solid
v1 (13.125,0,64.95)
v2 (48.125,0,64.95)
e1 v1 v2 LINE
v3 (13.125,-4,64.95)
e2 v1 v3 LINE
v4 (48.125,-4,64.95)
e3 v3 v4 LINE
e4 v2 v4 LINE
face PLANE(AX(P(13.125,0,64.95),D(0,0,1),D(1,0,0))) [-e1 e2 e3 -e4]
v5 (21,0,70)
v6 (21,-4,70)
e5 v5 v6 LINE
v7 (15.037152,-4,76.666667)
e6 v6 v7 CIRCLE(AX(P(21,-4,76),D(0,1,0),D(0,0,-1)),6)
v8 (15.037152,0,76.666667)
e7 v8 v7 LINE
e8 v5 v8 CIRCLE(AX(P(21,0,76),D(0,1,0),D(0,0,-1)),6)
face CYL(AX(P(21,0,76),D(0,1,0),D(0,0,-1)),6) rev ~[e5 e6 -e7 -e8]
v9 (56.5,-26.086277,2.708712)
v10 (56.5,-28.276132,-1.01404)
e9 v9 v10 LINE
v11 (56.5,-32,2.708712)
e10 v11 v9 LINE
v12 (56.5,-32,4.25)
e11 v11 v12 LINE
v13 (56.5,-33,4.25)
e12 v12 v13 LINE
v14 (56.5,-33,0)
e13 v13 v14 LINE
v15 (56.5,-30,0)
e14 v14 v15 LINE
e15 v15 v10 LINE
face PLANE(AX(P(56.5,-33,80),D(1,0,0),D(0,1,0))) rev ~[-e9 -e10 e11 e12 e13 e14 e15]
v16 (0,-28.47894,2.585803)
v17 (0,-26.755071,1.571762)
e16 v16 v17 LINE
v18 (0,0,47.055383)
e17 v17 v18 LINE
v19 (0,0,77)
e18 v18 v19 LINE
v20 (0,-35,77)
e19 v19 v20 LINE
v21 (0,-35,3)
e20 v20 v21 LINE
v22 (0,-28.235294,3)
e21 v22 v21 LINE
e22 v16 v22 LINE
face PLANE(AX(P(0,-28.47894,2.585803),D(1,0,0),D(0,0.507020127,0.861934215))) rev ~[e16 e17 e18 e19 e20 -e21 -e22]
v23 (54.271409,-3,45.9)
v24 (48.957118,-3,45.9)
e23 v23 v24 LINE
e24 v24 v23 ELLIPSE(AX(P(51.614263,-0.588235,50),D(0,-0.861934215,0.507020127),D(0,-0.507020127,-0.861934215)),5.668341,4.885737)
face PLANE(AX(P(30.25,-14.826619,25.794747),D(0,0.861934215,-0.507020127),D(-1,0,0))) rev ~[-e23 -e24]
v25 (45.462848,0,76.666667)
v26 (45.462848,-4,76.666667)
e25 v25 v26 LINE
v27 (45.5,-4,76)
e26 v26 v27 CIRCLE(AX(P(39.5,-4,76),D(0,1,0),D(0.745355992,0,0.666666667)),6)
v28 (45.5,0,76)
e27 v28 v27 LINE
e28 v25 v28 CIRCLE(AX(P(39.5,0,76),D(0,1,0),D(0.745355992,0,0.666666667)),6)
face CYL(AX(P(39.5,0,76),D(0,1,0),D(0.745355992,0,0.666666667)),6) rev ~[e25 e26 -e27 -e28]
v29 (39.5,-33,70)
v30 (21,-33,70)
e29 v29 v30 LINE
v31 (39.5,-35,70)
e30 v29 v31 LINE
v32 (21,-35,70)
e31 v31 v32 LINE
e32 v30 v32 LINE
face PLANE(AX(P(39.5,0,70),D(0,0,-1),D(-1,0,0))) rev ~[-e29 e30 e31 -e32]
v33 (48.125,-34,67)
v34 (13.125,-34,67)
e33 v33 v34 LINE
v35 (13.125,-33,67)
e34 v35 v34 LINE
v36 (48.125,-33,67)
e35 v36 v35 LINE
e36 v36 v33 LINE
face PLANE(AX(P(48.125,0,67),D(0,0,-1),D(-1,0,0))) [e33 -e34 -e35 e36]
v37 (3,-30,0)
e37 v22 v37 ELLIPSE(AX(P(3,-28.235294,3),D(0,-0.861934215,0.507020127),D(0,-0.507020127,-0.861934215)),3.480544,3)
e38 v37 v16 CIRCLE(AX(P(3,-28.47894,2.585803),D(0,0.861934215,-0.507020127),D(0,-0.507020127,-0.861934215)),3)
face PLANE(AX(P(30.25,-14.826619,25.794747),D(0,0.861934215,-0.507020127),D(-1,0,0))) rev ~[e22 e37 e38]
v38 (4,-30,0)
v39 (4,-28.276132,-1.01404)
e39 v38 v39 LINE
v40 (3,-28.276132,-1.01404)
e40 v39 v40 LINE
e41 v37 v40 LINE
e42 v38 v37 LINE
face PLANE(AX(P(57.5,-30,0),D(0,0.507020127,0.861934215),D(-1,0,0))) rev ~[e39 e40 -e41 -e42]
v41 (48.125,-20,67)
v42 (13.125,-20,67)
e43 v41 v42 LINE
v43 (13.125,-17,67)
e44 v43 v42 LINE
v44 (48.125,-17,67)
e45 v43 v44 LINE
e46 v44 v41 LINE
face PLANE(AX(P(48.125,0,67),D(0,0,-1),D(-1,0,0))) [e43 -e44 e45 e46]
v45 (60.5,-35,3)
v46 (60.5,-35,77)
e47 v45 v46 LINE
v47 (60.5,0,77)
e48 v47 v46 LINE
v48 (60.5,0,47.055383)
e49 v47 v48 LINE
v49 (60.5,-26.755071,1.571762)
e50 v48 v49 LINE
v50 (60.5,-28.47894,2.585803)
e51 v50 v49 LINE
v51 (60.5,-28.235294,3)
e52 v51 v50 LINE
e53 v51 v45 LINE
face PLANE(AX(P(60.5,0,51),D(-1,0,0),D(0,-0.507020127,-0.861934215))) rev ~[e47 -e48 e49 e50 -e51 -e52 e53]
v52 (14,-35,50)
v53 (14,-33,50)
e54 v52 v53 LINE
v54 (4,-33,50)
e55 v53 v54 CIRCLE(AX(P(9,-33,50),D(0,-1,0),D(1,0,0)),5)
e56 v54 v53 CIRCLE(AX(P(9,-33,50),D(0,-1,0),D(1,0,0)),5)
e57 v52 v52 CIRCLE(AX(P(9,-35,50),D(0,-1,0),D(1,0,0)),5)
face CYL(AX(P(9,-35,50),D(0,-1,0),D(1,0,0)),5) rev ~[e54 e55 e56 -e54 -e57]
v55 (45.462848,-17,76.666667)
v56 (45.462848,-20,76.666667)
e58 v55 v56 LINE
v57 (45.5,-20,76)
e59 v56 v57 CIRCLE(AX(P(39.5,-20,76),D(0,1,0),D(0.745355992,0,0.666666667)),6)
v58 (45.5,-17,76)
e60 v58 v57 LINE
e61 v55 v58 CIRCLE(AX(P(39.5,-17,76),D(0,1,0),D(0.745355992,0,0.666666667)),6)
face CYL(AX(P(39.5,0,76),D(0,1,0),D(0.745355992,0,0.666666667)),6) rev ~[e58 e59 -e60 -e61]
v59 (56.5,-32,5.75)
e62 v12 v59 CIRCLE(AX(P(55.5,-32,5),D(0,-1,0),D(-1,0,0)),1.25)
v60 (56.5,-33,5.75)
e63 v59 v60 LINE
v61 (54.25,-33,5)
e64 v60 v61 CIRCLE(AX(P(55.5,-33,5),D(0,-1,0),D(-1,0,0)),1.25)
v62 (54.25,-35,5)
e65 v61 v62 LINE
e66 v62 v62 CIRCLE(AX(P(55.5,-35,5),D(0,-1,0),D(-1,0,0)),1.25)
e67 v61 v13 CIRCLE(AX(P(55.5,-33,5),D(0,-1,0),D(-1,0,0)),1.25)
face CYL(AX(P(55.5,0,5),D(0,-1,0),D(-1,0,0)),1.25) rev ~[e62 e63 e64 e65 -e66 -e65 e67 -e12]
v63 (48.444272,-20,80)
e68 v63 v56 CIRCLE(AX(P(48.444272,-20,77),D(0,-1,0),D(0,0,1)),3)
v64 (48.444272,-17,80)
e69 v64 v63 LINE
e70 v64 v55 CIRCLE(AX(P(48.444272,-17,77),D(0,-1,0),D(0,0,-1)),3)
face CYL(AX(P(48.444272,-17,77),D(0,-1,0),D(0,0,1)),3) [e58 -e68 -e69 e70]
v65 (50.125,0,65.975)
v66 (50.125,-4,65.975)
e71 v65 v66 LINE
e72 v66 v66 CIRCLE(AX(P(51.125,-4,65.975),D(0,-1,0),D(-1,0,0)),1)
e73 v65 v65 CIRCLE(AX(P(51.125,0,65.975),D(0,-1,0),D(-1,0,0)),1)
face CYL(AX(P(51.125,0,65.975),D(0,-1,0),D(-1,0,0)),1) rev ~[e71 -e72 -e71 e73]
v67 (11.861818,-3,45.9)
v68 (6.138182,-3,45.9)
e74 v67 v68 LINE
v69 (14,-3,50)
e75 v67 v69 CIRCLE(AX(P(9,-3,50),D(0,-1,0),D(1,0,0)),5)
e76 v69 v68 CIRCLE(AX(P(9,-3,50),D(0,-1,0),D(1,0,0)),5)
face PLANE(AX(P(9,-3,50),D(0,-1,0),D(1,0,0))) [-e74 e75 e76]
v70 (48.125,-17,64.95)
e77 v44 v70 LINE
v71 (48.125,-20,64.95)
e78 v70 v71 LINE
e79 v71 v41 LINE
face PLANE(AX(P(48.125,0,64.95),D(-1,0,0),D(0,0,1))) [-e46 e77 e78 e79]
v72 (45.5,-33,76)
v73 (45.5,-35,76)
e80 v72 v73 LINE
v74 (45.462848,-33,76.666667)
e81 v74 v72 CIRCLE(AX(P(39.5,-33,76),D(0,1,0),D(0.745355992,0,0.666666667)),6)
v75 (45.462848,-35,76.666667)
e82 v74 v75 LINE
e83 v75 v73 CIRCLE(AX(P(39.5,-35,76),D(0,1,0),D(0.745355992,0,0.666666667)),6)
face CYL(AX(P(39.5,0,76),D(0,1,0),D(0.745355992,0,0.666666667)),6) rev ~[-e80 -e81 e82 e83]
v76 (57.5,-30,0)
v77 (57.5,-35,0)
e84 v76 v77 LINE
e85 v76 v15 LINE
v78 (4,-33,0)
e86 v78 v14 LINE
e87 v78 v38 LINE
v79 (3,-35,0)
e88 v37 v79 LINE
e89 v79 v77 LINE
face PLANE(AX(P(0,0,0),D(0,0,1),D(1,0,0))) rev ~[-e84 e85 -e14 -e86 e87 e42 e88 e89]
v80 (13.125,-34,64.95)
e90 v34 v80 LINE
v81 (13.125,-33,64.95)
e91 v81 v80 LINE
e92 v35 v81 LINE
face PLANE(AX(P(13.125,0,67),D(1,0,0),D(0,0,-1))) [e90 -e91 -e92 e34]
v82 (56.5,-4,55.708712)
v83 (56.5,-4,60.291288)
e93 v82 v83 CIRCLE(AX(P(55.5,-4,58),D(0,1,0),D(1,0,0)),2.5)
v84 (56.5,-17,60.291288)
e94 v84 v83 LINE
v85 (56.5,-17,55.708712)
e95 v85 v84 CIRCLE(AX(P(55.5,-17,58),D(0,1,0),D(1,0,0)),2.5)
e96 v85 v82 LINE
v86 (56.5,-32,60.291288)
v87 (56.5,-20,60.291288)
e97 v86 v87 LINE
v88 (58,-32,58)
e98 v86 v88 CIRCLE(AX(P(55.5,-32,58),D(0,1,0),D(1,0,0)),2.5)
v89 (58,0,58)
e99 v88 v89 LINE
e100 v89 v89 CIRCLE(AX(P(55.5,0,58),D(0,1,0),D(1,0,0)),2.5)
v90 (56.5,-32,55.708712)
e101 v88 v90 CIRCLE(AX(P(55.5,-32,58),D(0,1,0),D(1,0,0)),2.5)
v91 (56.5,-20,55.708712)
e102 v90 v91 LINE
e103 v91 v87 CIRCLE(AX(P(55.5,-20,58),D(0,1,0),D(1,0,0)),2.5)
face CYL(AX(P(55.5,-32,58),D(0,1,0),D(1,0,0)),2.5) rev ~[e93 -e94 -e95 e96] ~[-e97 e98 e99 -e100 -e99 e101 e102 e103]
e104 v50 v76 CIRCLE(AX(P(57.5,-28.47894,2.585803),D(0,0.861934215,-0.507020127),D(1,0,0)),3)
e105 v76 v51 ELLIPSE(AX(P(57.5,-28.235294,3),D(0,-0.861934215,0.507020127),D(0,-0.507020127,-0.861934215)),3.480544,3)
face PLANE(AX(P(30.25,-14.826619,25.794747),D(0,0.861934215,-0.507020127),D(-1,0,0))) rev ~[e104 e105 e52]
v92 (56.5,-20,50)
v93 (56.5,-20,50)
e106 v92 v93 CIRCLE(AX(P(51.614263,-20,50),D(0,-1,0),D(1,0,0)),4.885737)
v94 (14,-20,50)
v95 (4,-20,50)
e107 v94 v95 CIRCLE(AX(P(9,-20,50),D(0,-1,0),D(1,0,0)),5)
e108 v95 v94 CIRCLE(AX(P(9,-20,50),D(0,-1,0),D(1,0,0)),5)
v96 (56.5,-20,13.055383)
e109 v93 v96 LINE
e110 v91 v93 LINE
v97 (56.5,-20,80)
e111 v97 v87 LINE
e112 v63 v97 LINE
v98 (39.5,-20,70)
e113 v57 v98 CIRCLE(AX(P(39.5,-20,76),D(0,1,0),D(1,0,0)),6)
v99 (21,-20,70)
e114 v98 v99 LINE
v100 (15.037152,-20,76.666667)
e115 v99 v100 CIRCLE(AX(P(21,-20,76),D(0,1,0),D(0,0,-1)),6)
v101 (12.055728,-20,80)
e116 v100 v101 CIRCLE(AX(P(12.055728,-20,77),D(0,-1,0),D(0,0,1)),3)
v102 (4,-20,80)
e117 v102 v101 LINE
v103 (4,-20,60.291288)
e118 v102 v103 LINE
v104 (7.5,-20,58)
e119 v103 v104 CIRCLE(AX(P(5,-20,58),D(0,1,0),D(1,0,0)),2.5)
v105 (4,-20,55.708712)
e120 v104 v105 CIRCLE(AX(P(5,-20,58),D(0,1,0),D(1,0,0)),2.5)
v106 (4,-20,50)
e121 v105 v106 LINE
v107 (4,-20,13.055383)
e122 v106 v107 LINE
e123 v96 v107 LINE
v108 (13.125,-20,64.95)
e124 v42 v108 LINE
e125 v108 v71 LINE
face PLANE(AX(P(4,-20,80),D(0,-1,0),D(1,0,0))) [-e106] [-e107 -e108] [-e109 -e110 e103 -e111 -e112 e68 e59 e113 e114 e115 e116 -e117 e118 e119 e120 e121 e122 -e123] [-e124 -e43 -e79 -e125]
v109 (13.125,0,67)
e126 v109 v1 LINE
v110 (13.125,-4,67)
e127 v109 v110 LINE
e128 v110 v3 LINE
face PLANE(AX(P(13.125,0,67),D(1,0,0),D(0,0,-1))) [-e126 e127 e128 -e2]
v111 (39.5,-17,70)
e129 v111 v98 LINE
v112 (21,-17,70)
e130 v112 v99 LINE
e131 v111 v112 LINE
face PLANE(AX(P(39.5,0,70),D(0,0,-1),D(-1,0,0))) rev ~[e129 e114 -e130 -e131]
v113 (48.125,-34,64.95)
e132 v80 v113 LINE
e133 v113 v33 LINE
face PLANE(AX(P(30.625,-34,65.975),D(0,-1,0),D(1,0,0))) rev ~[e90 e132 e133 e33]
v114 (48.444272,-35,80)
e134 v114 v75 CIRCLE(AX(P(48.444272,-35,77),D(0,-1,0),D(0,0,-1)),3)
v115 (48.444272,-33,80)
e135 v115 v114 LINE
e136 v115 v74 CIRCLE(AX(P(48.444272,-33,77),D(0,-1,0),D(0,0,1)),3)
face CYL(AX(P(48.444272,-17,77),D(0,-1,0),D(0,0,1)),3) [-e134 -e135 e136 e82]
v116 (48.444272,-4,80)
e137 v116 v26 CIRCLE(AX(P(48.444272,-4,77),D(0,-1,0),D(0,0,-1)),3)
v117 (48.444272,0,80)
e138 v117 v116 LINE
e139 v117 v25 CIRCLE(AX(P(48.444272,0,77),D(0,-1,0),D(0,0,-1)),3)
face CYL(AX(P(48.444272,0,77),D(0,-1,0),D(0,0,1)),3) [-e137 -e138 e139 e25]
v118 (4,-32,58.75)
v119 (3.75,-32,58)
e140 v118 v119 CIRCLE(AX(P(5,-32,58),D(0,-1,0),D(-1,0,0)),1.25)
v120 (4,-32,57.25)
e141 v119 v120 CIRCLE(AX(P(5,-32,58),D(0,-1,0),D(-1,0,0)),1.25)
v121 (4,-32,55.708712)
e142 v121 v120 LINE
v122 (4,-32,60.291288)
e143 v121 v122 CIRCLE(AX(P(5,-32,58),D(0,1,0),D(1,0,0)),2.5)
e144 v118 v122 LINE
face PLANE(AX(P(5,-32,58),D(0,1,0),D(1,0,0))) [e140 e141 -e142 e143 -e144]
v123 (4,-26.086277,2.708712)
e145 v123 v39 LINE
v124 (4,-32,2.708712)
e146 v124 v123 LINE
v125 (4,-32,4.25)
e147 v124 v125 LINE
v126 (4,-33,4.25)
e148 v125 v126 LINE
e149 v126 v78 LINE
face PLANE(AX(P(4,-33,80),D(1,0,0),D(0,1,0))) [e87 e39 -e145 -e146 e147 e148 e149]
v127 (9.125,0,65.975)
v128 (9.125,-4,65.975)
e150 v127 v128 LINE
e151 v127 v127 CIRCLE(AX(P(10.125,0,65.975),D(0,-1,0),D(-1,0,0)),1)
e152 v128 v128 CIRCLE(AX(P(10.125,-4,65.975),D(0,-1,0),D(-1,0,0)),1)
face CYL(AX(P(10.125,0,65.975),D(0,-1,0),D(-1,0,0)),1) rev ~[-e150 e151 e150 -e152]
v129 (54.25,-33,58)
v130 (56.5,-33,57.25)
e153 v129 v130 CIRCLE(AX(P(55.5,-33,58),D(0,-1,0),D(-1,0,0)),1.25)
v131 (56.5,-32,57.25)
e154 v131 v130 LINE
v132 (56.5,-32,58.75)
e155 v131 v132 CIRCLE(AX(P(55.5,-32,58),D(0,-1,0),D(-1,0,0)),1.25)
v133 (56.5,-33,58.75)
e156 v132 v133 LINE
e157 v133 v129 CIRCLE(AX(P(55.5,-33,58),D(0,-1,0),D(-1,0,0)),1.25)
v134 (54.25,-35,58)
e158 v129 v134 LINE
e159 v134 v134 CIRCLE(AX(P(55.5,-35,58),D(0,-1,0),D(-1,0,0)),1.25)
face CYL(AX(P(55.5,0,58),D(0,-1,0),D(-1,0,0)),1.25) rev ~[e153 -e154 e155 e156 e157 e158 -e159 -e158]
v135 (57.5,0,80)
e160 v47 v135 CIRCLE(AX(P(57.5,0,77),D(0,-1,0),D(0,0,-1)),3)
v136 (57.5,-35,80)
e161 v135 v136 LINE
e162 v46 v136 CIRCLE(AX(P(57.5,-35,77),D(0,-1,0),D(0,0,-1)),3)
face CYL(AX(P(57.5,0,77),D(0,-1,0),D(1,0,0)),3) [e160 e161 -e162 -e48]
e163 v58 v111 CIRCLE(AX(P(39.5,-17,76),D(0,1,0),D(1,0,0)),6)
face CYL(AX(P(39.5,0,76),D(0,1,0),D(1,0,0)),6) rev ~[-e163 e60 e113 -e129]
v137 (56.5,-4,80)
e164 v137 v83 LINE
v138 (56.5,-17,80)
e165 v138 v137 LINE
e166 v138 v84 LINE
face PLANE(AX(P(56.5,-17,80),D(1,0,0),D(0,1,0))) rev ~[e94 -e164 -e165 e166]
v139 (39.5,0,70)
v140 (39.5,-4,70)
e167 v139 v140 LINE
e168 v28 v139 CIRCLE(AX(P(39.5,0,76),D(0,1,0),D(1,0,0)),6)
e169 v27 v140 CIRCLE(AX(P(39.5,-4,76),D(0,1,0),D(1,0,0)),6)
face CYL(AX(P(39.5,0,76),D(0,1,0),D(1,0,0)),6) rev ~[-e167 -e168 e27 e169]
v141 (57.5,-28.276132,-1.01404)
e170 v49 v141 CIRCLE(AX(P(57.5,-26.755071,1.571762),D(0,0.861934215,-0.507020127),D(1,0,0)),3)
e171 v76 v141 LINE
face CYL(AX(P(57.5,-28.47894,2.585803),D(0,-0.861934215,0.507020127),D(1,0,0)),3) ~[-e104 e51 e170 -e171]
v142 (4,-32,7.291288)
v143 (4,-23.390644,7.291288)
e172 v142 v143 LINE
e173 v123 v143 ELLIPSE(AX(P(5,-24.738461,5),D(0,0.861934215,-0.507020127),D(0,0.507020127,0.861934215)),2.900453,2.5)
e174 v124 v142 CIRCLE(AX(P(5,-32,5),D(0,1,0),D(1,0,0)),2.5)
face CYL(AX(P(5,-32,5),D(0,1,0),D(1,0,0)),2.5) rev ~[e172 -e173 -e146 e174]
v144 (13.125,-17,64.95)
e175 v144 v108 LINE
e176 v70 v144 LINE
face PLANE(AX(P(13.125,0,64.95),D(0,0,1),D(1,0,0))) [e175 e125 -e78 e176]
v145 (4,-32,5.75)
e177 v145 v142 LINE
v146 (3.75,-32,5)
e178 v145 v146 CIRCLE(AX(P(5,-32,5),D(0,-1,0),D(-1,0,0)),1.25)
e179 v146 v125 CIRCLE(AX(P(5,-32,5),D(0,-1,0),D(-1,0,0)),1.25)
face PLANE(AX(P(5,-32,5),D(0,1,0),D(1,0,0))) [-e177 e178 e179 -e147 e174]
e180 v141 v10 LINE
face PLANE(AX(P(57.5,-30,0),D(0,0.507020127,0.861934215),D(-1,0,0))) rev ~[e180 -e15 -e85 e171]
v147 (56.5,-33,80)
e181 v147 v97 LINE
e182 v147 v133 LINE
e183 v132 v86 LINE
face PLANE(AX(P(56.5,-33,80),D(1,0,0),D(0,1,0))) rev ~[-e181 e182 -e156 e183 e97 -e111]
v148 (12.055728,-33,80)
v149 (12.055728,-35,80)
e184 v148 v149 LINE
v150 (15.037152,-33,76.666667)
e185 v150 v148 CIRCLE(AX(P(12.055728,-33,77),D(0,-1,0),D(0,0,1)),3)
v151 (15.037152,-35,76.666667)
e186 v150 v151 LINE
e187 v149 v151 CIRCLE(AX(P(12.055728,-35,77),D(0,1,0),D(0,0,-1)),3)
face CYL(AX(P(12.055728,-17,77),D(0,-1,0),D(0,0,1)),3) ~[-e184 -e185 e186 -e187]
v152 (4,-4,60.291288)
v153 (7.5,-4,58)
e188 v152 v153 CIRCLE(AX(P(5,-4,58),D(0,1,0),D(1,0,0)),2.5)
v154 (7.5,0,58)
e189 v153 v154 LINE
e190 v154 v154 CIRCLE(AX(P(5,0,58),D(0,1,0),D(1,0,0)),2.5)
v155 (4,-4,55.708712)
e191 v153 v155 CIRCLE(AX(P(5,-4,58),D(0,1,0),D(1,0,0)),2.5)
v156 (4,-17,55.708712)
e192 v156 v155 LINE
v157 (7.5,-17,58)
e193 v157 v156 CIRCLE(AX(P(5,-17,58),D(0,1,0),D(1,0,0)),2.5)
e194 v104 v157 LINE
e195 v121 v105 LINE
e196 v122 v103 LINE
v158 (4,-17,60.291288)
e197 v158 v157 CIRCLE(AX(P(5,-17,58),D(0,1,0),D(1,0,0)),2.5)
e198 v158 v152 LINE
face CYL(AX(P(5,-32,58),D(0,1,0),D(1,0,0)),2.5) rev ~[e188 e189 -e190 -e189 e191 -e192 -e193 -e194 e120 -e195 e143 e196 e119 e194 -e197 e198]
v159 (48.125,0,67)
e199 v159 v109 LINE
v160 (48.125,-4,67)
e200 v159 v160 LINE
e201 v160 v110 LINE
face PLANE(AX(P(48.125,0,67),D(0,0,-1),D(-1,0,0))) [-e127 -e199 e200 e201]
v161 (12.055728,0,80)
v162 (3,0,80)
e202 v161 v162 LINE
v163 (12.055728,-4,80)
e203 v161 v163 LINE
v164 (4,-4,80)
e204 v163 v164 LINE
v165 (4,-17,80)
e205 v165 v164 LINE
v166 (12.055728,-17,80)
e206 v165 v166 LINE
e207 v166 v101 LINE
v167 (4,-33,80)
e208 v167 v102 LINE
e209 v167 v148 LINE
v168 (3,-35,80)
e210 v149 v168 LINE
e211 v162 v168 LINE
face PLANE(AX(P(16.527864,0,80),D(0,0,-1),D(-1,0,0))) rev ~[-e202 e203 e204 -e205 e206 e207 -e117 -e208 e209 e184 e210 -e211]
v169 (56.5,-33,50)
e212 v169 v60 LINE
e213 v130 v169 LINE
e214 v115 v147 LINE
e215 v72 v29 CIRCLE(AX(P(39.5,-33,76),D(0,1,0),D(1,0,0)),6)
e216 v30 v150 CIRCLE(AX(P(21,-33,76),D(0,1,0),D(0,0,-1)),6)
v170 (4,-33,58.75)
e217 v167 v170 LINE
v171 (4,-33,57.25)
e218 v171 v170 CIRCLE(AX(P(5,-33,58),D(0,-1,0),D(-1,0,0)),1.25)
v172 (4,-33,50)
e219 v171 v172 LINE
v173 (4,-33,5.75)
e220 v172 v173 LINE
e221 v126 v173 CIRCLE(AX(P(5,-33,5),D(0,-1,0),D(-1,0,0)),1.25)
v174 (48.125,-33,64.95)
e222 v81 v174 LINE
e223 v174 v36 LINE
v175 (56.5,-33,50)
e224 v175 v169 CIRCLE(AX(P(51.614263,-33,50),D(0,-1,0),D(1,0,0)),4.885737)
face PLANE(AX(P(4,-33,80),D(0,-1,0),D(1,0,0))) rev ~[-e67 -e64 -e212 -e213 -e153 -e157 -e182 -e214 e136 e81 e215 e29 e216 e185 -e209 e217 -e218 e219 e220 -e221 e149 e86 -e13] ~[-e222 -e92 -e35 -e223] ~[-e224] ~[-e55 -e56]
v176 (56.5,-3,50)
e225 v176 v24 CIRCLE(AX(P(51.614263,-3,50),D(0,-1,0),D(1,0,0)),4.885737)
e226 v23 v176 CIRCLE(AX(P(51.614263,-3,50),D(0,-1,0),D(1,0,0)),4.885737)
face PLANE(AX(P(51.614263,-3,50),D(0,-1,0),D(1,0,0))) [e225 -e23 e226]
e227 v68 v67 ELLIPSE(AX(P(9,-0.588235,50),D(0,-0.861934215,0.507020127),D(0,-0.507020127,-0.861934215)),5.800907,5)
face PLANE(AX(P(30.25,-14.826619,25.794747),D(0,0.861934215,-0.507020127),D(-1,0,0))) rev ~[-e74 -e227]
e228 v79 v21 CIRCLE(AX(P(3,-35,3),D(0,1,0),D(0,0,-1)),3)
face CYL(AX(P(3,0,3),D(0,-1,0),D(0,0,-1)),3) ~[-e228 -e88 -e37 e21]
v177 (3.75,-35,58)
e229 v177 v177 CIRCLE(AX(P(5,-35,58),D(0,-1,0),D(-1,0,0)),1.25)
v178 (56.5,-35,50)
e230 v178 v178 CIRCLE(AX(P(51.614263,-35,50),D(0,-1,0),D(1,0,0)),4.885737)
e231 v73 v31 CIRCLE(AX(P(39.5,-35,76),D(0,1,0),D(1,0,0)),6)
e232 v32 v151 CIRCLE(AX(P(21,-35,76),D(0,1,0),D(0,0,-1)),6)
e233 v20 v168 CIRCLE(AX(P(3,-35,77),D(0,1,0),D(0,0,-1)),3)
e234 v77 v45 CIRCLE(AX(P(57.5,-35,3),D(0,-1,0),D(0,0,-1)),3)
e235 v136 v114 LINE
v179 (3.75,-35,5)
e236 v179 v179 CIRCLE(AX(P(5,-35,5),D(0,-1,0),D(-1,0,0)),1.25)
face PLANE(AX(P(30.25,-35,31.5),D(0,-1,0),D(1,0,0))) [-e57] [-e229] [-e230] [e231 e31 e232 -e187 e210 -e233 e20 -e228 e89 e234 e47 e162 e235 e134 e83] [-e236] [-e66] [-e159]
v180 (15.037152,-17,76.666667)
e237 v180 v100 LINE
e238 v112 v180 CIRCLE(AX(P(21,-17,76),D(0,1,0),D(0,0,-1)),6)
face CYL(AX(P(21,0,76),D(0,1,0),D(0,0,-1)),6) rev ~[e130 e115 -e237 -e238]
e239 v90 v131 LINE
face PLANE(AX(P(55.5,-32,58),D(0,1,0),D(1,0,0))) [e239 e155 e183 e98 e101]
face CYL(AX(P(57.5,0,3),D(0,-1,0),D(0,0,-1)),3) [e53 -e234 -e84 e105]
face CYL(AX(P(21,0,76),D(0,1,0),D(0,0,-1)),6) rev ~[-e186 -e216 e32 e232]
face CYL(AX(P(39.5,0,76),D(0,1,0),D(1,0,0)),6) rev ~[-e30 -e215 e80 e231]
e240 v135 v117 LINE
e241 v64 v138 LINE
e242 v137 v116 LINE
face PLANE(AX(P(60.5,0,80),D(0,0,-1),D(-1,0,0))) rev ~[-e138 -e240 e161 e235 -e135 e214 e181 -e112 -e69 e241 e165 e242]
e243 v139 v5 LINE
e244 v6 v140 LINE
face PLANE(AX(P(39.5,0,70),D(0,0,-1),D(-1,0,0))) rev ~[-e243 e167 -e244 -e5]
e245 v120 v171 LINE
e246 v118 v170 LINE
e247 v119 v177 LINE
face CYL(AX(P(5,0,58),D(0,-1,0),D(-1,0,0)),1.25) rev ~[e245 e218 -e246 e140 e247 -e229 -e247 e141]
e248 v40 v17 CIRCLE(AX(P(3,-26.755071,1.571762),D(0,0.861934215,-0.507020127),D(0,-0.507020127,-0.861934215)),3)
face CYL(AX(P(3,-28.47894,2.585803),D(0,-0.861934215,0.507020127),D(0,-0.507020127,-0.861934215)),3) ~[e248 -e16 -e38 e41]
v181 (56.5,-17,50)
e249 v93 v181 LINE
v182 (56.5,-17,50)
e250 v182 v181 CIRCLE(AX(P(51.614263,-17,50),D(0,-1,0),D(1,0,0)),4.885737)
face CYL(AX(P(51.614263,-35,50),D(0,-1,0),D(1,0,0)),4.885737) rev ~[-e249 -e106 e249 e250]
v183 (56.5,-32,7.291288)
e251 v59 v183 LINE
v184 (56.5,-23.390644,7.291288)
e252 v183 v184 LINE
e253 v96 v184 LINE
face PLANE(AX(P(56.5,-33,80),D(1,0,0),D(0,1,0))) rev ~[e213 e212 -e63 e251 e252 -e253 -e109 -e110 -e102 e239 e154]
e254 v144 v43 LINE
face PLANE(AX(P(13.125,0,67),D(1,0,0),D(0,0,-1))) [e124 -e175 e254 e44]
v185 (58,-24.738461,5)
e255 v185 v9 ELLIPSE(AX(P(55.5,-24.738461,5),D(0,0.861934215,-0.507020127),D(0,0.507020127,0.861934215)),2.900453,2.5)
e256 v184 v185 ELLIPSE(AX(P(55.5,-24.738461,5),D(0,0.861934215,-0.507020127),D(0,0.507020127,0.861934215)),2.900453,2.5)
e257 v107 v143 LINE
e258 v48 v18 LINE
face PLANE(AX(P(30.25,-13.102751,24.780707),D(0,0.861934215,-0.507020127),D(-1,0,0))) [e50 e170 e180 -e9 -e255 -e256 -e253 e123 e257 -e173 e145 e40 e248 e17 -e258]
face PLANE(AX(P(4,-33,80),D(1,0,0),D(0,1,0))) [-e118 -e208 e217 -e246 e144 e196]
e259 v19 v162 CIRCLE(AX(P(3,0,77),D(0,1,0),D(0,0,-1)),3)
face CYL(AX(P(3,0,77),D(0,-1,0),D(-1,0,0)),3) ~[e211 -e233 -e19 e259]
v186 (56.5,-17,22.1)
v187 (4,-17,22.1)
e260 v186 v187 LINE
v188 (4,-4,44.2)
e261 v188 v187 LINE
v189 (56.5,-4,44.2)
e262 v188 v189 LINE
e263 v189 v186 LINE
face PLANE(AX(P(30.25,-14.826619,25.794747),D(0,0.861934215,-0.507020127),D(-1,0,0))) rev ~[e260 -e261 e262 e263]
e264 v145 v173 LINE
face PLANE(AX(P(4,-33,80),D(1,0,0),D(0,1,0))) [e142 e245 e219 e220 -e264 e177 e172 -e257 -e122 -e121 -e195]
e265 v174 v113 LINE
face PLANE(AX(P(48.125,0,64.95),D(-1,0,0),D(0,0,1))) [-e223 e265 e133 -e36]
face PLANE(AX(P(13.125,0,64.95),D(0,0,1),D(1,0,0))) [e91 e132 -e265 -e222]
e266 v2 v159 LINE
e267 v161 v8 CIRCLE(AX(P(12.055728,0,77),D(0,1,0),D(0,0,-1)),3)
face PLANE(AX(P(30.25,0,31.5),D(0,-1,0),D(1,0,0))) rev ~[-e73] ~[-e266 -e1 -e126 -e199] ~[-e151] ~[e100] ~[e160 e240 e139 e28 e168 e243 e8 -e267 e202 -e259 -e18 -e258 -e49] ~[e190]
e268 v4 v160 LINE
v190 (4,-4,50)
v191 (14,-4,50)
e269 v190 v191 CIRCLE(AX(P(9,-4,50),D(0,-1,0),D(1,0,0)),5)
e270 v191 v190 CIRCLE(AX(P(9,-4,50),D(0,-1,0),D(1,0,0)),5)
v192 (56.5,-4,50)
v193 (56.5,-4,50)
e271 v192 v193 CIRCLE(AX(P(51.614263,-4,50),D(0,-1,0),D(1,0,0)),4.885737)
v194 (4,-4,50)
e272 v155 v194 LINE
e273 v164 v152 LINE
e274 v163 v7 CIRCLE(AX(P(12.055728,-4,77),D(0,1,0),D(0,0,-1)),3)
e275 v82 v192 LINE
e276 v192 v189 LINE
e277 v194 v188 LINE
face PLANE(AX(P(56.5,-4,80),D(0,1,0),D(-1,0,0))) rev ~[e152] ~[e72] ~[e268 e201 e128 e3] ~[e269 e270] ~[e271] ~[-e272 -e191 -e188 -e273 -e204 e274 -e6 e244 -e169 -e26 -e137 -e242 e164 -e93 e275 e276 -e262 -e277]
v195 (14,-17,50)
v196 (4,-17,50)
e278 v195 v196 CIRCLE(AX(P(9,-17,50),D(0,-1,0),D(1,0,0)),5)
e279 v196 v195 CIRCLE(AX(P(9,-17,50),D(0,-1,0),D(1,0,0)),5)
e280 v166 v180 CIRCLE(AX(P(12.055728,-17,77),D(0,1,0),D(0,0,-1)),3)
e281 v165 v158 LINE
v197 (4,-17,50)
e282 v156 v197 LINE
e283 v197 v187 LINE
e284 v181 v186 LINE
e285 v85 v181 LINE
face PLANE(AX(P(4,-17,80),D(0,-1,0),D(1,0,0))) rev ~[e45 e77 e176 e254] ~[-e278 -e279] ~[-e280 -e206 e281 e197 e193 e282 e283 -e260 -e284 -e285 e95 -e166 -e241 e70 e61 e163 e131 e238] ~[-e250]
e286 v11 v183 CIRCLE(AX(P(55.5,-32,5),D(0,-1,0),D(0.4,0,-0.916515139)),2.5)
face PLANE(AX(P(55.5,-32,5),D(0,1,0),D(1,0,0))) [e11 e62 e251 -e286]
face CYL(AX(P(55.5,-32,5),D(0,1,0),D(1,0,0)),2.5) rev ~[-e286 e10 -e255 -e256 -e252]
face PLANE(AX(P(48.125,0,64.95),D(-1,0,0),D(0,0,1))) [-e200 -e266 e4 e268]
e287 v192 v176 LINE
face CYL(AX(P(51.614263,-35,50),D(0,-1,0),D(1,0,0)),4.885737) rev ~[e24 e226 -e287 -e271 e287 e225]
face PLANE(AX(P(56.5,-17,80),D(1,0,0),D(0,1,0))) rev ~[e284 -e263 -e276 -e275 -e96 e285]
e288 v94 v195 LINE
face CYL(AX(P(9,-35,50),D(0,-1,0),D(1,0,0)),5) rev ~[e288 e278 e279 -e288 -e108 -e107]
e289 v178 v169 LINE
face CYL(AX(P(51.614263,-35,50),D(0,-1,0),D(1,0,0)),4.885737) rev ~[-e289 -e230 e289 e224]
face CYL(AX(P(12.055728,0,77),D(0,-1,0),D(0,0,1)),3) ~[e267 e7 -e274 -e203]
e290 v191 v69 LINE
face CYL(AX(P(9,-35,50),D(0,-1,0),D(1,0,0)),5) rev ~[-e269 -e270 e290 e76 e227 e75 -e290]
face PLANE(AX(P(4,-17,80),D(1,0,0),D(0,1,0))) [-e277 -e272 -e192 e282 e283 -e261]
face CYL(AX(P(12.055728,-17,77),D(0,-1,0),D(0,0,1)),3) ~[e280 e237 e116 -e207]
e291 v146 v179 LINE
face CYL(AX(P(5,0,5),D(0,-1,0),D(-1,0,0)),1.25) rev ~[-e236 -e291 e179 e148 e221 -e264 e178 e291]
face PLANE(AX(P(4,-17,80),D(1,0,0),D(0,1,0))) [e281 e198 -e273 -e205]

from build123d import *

# Parameters (mm, degrees)
F0_W            = 60.5
F0_H            = 63
F0_R            = 1.5
F1_DEPTH        = 35
F2_W            = 12.527864045
F2_H            = 13
F2_W_2          = 39.972135955
F3_DEPTH        = 80
F4_R            = 3
F5_R            = 5
F5_R_2          = 4.885736735
F6_DEPTH        = 32
F8_DEPTH        = 34
F9_D            = 2
F9_DEPTH        = 5
F9_CBORE_D      = 5
F9_CBORE_DEPTH  = 0
F9_TIP          = 0.600860619
F11_DEPTH       = 70
F13_DEPTH       = 2
F14_W           = 52.5
F14_H           = 13
F14_W_2         = 60.5
F14_H_2         = 3.8759431336
F15_DEPTH       = 85
F16_D           = 2.5
F16_CBORE_D     = 5
F16_CBORE_DEPTH = 32


with BuildPart() as f1:
    # F0 (on Front) → F1 (new body)
    with BuildSketch(Plane.XZ):
        with Locations((30.25, 31.5)):
            Rectangle(F0_W, F0_H)
        with Locations((5, 5)):
            Circle(F0_R, mode=Mode.SUBTRACT)
        with Locations((55.5, 5)):
            Circle(F0_R, mode=Mode.SUBTRACT)
        with Locations((5, 58)):
            Circle(F0_R, mode=Mode.SUBTRACT)
        with Locations((55.5, 58)):
            Circle(F0_R, mode=Mode.SUBTRACT)
        with BuildLine():
            Line((0, 80), (0, 63))
            Line((0, 63), (60.5, 63))
            Line((60.5, 63), (60.5, 80))
            Line((60.5, 80), (43.972135955, 80))
            ThreePointArc((43.972135955, 80), (45.1050341538, 78.1409325386), (45.5, 76))
            ThreePointArc((45.5, 76), (43.7426406871, 71.7573593129), (39.5, 70))
            Line((39.5, 70), (21, 70))
            ThreePointArc((21, 70), (15.5227744249, 73.5505102572), (16.527864045, 80))
            Line((16.527864045, 80), (0, 80))
        make_face()
        with Locations((5, 58)):
            Circle(F0_R)
        with Locations((5, 5)):
            Circle(F0_R)
        with Locations((55.5, 5)):
            Circle(F0_R)
        with Locations((55.5, 58)):
            Circle(F0_R)
    extrude(amount=F1_DEPTH)

    # F2 (on face) → F3 (cut)
    with BuildSketch(Plane.XY.offset(80)):
        with Locations((10.2639320225, -10.5)):
            Rectangle(F2_W, F2_H)
        with Locations((36.5139320225, -10.5)):
            Rectangle(F2_W_2, F2_H)
    extrude(amount=-F3_DEPTH, mode=Mode.SUBTRACT)

    # F4
    f4_edges = [f1.edges().sort_by_distance(p)[0] for p in [
        (60.5, -17.5, 80),
        (0, -17.5, 80),
        (0, -17.5, 0),
        (60.5, -17.5, 0),
        (16.527864, -26, 80),
        (43.972136, -26, 80),
        (43.972136, -2, 80),
        (16.527864, -2, 80),
    ]]
    fillet(f4_edges, radius=F4_R)

    # F5 (on face) → F6 (cut)
    with BuildSketch(Plane.XZ.offset(35)):
        with Locations((9, 50)):
            Circle(F5_R)
        with Locations((51.614263265, 50)):
            Circle(F5_R_2)
    extrude(amount=-F6_DEPTH, mode=Mode.SUBTRACT)

    # F7 (on face) → F8 (cut)
    with BuildSketch(Plane.XZ):
        Polygon((13.125, 65.975), (13.125, 64.95), (48.125, 64.95), (48.125, 65.975), (48.125, 67), (13.125, 67), align=None)
    extrude(amount=F8_DEPTH, mode=Mode.SUBTRACT)

    # F9
    with Locations(Plane(origin=(0, 0, 0), x_dir=(1, 0, 0), z_dir=(0, 1, 0))):
        with Locations((51.125, -65.975), (10.125, -65.975)):
            CounterBoreHole(F9_D / 2, F9_CBORE_D / 2, F9_CBORE_DEPTH, depth=F9_DEPTH)
            with Locations((0, 0, -(F9_DEPTH + F9_TIP / 2))):  # 118° drill point
                Cone(0, F9_D / 2, F9_TIP, mode=Mode.SUBTRACT)

    # F10 (on face) → F11 (cut)
    with BuildSketch(Plane.YZ.offset(60.5)):
        Polygon((-28.2352941176, 3), (0, 3), (0, 51), align=None)
        Polygon((-30, 0), (0, 0), (0, 3), (-28.2352941176, 3), align=None)
    extrude(amount=-F11_DEPTH, mode=Mode.SUBTRACT)

    # F12 (on face) → F13 (join)
    with BuildSketch(Plane(origin=(0, -22.2879177378, 13.1105398458), x_dir=(-1, 0, 0), z_dir=(0, 0.8619342152, -0.5070201266))):
        with BuildLine():
            Line((0, 43.958644973), (-60.5, 43.958644973))
            Line((-60.5, 43.958644973), (-60.5, -12.2106037969))
            ThreePointArc((-60.5, -12.2106037969), (-59.6213203436, -14.3319241405), (-57.5, -15.2106037969))
            Line((-57.5, -15.2106037969), (-3, -15.2106037969))
            ThreePointArc((-3, -15.2106037969), (-0.8786796564, -14.3319241405), (0, -12.2106037969))
            Line((0, -12.2106037969), (0, -11.7300597516))
            Line((0, -11.7300597516), (0, 43.958644973))
        make_face()
    extrude(amount=F13_DEPTH)

    # F14 (on face) → F15 (cut)
    with BuildSketch(Plane.XY.offset(80)):
        with Locations((30.25, -26.5)):
            Rectangle(F14_W, F14_H)
        with Locations((30.25, 1.9379715668)):
            Rectangle(F14_W_2, F14_H_2)
    extrude(amount=-F15_DEPTH, mode=Mode.SUBTRACT)

    # F16 (through all)
    with Locations(Plane(origin=(0, 0, 0), x_dir=(1, 0, 0), z_dir=(0, 1, 0))):
        with Locations((5, -58), (55.5, -58), (55.5, -5), (5, -5)):
            CounterBoreHole(F16_D / 2, F16_CBORE_D / 2, F16_CBORE_DEPTH)


solid = f1.part
